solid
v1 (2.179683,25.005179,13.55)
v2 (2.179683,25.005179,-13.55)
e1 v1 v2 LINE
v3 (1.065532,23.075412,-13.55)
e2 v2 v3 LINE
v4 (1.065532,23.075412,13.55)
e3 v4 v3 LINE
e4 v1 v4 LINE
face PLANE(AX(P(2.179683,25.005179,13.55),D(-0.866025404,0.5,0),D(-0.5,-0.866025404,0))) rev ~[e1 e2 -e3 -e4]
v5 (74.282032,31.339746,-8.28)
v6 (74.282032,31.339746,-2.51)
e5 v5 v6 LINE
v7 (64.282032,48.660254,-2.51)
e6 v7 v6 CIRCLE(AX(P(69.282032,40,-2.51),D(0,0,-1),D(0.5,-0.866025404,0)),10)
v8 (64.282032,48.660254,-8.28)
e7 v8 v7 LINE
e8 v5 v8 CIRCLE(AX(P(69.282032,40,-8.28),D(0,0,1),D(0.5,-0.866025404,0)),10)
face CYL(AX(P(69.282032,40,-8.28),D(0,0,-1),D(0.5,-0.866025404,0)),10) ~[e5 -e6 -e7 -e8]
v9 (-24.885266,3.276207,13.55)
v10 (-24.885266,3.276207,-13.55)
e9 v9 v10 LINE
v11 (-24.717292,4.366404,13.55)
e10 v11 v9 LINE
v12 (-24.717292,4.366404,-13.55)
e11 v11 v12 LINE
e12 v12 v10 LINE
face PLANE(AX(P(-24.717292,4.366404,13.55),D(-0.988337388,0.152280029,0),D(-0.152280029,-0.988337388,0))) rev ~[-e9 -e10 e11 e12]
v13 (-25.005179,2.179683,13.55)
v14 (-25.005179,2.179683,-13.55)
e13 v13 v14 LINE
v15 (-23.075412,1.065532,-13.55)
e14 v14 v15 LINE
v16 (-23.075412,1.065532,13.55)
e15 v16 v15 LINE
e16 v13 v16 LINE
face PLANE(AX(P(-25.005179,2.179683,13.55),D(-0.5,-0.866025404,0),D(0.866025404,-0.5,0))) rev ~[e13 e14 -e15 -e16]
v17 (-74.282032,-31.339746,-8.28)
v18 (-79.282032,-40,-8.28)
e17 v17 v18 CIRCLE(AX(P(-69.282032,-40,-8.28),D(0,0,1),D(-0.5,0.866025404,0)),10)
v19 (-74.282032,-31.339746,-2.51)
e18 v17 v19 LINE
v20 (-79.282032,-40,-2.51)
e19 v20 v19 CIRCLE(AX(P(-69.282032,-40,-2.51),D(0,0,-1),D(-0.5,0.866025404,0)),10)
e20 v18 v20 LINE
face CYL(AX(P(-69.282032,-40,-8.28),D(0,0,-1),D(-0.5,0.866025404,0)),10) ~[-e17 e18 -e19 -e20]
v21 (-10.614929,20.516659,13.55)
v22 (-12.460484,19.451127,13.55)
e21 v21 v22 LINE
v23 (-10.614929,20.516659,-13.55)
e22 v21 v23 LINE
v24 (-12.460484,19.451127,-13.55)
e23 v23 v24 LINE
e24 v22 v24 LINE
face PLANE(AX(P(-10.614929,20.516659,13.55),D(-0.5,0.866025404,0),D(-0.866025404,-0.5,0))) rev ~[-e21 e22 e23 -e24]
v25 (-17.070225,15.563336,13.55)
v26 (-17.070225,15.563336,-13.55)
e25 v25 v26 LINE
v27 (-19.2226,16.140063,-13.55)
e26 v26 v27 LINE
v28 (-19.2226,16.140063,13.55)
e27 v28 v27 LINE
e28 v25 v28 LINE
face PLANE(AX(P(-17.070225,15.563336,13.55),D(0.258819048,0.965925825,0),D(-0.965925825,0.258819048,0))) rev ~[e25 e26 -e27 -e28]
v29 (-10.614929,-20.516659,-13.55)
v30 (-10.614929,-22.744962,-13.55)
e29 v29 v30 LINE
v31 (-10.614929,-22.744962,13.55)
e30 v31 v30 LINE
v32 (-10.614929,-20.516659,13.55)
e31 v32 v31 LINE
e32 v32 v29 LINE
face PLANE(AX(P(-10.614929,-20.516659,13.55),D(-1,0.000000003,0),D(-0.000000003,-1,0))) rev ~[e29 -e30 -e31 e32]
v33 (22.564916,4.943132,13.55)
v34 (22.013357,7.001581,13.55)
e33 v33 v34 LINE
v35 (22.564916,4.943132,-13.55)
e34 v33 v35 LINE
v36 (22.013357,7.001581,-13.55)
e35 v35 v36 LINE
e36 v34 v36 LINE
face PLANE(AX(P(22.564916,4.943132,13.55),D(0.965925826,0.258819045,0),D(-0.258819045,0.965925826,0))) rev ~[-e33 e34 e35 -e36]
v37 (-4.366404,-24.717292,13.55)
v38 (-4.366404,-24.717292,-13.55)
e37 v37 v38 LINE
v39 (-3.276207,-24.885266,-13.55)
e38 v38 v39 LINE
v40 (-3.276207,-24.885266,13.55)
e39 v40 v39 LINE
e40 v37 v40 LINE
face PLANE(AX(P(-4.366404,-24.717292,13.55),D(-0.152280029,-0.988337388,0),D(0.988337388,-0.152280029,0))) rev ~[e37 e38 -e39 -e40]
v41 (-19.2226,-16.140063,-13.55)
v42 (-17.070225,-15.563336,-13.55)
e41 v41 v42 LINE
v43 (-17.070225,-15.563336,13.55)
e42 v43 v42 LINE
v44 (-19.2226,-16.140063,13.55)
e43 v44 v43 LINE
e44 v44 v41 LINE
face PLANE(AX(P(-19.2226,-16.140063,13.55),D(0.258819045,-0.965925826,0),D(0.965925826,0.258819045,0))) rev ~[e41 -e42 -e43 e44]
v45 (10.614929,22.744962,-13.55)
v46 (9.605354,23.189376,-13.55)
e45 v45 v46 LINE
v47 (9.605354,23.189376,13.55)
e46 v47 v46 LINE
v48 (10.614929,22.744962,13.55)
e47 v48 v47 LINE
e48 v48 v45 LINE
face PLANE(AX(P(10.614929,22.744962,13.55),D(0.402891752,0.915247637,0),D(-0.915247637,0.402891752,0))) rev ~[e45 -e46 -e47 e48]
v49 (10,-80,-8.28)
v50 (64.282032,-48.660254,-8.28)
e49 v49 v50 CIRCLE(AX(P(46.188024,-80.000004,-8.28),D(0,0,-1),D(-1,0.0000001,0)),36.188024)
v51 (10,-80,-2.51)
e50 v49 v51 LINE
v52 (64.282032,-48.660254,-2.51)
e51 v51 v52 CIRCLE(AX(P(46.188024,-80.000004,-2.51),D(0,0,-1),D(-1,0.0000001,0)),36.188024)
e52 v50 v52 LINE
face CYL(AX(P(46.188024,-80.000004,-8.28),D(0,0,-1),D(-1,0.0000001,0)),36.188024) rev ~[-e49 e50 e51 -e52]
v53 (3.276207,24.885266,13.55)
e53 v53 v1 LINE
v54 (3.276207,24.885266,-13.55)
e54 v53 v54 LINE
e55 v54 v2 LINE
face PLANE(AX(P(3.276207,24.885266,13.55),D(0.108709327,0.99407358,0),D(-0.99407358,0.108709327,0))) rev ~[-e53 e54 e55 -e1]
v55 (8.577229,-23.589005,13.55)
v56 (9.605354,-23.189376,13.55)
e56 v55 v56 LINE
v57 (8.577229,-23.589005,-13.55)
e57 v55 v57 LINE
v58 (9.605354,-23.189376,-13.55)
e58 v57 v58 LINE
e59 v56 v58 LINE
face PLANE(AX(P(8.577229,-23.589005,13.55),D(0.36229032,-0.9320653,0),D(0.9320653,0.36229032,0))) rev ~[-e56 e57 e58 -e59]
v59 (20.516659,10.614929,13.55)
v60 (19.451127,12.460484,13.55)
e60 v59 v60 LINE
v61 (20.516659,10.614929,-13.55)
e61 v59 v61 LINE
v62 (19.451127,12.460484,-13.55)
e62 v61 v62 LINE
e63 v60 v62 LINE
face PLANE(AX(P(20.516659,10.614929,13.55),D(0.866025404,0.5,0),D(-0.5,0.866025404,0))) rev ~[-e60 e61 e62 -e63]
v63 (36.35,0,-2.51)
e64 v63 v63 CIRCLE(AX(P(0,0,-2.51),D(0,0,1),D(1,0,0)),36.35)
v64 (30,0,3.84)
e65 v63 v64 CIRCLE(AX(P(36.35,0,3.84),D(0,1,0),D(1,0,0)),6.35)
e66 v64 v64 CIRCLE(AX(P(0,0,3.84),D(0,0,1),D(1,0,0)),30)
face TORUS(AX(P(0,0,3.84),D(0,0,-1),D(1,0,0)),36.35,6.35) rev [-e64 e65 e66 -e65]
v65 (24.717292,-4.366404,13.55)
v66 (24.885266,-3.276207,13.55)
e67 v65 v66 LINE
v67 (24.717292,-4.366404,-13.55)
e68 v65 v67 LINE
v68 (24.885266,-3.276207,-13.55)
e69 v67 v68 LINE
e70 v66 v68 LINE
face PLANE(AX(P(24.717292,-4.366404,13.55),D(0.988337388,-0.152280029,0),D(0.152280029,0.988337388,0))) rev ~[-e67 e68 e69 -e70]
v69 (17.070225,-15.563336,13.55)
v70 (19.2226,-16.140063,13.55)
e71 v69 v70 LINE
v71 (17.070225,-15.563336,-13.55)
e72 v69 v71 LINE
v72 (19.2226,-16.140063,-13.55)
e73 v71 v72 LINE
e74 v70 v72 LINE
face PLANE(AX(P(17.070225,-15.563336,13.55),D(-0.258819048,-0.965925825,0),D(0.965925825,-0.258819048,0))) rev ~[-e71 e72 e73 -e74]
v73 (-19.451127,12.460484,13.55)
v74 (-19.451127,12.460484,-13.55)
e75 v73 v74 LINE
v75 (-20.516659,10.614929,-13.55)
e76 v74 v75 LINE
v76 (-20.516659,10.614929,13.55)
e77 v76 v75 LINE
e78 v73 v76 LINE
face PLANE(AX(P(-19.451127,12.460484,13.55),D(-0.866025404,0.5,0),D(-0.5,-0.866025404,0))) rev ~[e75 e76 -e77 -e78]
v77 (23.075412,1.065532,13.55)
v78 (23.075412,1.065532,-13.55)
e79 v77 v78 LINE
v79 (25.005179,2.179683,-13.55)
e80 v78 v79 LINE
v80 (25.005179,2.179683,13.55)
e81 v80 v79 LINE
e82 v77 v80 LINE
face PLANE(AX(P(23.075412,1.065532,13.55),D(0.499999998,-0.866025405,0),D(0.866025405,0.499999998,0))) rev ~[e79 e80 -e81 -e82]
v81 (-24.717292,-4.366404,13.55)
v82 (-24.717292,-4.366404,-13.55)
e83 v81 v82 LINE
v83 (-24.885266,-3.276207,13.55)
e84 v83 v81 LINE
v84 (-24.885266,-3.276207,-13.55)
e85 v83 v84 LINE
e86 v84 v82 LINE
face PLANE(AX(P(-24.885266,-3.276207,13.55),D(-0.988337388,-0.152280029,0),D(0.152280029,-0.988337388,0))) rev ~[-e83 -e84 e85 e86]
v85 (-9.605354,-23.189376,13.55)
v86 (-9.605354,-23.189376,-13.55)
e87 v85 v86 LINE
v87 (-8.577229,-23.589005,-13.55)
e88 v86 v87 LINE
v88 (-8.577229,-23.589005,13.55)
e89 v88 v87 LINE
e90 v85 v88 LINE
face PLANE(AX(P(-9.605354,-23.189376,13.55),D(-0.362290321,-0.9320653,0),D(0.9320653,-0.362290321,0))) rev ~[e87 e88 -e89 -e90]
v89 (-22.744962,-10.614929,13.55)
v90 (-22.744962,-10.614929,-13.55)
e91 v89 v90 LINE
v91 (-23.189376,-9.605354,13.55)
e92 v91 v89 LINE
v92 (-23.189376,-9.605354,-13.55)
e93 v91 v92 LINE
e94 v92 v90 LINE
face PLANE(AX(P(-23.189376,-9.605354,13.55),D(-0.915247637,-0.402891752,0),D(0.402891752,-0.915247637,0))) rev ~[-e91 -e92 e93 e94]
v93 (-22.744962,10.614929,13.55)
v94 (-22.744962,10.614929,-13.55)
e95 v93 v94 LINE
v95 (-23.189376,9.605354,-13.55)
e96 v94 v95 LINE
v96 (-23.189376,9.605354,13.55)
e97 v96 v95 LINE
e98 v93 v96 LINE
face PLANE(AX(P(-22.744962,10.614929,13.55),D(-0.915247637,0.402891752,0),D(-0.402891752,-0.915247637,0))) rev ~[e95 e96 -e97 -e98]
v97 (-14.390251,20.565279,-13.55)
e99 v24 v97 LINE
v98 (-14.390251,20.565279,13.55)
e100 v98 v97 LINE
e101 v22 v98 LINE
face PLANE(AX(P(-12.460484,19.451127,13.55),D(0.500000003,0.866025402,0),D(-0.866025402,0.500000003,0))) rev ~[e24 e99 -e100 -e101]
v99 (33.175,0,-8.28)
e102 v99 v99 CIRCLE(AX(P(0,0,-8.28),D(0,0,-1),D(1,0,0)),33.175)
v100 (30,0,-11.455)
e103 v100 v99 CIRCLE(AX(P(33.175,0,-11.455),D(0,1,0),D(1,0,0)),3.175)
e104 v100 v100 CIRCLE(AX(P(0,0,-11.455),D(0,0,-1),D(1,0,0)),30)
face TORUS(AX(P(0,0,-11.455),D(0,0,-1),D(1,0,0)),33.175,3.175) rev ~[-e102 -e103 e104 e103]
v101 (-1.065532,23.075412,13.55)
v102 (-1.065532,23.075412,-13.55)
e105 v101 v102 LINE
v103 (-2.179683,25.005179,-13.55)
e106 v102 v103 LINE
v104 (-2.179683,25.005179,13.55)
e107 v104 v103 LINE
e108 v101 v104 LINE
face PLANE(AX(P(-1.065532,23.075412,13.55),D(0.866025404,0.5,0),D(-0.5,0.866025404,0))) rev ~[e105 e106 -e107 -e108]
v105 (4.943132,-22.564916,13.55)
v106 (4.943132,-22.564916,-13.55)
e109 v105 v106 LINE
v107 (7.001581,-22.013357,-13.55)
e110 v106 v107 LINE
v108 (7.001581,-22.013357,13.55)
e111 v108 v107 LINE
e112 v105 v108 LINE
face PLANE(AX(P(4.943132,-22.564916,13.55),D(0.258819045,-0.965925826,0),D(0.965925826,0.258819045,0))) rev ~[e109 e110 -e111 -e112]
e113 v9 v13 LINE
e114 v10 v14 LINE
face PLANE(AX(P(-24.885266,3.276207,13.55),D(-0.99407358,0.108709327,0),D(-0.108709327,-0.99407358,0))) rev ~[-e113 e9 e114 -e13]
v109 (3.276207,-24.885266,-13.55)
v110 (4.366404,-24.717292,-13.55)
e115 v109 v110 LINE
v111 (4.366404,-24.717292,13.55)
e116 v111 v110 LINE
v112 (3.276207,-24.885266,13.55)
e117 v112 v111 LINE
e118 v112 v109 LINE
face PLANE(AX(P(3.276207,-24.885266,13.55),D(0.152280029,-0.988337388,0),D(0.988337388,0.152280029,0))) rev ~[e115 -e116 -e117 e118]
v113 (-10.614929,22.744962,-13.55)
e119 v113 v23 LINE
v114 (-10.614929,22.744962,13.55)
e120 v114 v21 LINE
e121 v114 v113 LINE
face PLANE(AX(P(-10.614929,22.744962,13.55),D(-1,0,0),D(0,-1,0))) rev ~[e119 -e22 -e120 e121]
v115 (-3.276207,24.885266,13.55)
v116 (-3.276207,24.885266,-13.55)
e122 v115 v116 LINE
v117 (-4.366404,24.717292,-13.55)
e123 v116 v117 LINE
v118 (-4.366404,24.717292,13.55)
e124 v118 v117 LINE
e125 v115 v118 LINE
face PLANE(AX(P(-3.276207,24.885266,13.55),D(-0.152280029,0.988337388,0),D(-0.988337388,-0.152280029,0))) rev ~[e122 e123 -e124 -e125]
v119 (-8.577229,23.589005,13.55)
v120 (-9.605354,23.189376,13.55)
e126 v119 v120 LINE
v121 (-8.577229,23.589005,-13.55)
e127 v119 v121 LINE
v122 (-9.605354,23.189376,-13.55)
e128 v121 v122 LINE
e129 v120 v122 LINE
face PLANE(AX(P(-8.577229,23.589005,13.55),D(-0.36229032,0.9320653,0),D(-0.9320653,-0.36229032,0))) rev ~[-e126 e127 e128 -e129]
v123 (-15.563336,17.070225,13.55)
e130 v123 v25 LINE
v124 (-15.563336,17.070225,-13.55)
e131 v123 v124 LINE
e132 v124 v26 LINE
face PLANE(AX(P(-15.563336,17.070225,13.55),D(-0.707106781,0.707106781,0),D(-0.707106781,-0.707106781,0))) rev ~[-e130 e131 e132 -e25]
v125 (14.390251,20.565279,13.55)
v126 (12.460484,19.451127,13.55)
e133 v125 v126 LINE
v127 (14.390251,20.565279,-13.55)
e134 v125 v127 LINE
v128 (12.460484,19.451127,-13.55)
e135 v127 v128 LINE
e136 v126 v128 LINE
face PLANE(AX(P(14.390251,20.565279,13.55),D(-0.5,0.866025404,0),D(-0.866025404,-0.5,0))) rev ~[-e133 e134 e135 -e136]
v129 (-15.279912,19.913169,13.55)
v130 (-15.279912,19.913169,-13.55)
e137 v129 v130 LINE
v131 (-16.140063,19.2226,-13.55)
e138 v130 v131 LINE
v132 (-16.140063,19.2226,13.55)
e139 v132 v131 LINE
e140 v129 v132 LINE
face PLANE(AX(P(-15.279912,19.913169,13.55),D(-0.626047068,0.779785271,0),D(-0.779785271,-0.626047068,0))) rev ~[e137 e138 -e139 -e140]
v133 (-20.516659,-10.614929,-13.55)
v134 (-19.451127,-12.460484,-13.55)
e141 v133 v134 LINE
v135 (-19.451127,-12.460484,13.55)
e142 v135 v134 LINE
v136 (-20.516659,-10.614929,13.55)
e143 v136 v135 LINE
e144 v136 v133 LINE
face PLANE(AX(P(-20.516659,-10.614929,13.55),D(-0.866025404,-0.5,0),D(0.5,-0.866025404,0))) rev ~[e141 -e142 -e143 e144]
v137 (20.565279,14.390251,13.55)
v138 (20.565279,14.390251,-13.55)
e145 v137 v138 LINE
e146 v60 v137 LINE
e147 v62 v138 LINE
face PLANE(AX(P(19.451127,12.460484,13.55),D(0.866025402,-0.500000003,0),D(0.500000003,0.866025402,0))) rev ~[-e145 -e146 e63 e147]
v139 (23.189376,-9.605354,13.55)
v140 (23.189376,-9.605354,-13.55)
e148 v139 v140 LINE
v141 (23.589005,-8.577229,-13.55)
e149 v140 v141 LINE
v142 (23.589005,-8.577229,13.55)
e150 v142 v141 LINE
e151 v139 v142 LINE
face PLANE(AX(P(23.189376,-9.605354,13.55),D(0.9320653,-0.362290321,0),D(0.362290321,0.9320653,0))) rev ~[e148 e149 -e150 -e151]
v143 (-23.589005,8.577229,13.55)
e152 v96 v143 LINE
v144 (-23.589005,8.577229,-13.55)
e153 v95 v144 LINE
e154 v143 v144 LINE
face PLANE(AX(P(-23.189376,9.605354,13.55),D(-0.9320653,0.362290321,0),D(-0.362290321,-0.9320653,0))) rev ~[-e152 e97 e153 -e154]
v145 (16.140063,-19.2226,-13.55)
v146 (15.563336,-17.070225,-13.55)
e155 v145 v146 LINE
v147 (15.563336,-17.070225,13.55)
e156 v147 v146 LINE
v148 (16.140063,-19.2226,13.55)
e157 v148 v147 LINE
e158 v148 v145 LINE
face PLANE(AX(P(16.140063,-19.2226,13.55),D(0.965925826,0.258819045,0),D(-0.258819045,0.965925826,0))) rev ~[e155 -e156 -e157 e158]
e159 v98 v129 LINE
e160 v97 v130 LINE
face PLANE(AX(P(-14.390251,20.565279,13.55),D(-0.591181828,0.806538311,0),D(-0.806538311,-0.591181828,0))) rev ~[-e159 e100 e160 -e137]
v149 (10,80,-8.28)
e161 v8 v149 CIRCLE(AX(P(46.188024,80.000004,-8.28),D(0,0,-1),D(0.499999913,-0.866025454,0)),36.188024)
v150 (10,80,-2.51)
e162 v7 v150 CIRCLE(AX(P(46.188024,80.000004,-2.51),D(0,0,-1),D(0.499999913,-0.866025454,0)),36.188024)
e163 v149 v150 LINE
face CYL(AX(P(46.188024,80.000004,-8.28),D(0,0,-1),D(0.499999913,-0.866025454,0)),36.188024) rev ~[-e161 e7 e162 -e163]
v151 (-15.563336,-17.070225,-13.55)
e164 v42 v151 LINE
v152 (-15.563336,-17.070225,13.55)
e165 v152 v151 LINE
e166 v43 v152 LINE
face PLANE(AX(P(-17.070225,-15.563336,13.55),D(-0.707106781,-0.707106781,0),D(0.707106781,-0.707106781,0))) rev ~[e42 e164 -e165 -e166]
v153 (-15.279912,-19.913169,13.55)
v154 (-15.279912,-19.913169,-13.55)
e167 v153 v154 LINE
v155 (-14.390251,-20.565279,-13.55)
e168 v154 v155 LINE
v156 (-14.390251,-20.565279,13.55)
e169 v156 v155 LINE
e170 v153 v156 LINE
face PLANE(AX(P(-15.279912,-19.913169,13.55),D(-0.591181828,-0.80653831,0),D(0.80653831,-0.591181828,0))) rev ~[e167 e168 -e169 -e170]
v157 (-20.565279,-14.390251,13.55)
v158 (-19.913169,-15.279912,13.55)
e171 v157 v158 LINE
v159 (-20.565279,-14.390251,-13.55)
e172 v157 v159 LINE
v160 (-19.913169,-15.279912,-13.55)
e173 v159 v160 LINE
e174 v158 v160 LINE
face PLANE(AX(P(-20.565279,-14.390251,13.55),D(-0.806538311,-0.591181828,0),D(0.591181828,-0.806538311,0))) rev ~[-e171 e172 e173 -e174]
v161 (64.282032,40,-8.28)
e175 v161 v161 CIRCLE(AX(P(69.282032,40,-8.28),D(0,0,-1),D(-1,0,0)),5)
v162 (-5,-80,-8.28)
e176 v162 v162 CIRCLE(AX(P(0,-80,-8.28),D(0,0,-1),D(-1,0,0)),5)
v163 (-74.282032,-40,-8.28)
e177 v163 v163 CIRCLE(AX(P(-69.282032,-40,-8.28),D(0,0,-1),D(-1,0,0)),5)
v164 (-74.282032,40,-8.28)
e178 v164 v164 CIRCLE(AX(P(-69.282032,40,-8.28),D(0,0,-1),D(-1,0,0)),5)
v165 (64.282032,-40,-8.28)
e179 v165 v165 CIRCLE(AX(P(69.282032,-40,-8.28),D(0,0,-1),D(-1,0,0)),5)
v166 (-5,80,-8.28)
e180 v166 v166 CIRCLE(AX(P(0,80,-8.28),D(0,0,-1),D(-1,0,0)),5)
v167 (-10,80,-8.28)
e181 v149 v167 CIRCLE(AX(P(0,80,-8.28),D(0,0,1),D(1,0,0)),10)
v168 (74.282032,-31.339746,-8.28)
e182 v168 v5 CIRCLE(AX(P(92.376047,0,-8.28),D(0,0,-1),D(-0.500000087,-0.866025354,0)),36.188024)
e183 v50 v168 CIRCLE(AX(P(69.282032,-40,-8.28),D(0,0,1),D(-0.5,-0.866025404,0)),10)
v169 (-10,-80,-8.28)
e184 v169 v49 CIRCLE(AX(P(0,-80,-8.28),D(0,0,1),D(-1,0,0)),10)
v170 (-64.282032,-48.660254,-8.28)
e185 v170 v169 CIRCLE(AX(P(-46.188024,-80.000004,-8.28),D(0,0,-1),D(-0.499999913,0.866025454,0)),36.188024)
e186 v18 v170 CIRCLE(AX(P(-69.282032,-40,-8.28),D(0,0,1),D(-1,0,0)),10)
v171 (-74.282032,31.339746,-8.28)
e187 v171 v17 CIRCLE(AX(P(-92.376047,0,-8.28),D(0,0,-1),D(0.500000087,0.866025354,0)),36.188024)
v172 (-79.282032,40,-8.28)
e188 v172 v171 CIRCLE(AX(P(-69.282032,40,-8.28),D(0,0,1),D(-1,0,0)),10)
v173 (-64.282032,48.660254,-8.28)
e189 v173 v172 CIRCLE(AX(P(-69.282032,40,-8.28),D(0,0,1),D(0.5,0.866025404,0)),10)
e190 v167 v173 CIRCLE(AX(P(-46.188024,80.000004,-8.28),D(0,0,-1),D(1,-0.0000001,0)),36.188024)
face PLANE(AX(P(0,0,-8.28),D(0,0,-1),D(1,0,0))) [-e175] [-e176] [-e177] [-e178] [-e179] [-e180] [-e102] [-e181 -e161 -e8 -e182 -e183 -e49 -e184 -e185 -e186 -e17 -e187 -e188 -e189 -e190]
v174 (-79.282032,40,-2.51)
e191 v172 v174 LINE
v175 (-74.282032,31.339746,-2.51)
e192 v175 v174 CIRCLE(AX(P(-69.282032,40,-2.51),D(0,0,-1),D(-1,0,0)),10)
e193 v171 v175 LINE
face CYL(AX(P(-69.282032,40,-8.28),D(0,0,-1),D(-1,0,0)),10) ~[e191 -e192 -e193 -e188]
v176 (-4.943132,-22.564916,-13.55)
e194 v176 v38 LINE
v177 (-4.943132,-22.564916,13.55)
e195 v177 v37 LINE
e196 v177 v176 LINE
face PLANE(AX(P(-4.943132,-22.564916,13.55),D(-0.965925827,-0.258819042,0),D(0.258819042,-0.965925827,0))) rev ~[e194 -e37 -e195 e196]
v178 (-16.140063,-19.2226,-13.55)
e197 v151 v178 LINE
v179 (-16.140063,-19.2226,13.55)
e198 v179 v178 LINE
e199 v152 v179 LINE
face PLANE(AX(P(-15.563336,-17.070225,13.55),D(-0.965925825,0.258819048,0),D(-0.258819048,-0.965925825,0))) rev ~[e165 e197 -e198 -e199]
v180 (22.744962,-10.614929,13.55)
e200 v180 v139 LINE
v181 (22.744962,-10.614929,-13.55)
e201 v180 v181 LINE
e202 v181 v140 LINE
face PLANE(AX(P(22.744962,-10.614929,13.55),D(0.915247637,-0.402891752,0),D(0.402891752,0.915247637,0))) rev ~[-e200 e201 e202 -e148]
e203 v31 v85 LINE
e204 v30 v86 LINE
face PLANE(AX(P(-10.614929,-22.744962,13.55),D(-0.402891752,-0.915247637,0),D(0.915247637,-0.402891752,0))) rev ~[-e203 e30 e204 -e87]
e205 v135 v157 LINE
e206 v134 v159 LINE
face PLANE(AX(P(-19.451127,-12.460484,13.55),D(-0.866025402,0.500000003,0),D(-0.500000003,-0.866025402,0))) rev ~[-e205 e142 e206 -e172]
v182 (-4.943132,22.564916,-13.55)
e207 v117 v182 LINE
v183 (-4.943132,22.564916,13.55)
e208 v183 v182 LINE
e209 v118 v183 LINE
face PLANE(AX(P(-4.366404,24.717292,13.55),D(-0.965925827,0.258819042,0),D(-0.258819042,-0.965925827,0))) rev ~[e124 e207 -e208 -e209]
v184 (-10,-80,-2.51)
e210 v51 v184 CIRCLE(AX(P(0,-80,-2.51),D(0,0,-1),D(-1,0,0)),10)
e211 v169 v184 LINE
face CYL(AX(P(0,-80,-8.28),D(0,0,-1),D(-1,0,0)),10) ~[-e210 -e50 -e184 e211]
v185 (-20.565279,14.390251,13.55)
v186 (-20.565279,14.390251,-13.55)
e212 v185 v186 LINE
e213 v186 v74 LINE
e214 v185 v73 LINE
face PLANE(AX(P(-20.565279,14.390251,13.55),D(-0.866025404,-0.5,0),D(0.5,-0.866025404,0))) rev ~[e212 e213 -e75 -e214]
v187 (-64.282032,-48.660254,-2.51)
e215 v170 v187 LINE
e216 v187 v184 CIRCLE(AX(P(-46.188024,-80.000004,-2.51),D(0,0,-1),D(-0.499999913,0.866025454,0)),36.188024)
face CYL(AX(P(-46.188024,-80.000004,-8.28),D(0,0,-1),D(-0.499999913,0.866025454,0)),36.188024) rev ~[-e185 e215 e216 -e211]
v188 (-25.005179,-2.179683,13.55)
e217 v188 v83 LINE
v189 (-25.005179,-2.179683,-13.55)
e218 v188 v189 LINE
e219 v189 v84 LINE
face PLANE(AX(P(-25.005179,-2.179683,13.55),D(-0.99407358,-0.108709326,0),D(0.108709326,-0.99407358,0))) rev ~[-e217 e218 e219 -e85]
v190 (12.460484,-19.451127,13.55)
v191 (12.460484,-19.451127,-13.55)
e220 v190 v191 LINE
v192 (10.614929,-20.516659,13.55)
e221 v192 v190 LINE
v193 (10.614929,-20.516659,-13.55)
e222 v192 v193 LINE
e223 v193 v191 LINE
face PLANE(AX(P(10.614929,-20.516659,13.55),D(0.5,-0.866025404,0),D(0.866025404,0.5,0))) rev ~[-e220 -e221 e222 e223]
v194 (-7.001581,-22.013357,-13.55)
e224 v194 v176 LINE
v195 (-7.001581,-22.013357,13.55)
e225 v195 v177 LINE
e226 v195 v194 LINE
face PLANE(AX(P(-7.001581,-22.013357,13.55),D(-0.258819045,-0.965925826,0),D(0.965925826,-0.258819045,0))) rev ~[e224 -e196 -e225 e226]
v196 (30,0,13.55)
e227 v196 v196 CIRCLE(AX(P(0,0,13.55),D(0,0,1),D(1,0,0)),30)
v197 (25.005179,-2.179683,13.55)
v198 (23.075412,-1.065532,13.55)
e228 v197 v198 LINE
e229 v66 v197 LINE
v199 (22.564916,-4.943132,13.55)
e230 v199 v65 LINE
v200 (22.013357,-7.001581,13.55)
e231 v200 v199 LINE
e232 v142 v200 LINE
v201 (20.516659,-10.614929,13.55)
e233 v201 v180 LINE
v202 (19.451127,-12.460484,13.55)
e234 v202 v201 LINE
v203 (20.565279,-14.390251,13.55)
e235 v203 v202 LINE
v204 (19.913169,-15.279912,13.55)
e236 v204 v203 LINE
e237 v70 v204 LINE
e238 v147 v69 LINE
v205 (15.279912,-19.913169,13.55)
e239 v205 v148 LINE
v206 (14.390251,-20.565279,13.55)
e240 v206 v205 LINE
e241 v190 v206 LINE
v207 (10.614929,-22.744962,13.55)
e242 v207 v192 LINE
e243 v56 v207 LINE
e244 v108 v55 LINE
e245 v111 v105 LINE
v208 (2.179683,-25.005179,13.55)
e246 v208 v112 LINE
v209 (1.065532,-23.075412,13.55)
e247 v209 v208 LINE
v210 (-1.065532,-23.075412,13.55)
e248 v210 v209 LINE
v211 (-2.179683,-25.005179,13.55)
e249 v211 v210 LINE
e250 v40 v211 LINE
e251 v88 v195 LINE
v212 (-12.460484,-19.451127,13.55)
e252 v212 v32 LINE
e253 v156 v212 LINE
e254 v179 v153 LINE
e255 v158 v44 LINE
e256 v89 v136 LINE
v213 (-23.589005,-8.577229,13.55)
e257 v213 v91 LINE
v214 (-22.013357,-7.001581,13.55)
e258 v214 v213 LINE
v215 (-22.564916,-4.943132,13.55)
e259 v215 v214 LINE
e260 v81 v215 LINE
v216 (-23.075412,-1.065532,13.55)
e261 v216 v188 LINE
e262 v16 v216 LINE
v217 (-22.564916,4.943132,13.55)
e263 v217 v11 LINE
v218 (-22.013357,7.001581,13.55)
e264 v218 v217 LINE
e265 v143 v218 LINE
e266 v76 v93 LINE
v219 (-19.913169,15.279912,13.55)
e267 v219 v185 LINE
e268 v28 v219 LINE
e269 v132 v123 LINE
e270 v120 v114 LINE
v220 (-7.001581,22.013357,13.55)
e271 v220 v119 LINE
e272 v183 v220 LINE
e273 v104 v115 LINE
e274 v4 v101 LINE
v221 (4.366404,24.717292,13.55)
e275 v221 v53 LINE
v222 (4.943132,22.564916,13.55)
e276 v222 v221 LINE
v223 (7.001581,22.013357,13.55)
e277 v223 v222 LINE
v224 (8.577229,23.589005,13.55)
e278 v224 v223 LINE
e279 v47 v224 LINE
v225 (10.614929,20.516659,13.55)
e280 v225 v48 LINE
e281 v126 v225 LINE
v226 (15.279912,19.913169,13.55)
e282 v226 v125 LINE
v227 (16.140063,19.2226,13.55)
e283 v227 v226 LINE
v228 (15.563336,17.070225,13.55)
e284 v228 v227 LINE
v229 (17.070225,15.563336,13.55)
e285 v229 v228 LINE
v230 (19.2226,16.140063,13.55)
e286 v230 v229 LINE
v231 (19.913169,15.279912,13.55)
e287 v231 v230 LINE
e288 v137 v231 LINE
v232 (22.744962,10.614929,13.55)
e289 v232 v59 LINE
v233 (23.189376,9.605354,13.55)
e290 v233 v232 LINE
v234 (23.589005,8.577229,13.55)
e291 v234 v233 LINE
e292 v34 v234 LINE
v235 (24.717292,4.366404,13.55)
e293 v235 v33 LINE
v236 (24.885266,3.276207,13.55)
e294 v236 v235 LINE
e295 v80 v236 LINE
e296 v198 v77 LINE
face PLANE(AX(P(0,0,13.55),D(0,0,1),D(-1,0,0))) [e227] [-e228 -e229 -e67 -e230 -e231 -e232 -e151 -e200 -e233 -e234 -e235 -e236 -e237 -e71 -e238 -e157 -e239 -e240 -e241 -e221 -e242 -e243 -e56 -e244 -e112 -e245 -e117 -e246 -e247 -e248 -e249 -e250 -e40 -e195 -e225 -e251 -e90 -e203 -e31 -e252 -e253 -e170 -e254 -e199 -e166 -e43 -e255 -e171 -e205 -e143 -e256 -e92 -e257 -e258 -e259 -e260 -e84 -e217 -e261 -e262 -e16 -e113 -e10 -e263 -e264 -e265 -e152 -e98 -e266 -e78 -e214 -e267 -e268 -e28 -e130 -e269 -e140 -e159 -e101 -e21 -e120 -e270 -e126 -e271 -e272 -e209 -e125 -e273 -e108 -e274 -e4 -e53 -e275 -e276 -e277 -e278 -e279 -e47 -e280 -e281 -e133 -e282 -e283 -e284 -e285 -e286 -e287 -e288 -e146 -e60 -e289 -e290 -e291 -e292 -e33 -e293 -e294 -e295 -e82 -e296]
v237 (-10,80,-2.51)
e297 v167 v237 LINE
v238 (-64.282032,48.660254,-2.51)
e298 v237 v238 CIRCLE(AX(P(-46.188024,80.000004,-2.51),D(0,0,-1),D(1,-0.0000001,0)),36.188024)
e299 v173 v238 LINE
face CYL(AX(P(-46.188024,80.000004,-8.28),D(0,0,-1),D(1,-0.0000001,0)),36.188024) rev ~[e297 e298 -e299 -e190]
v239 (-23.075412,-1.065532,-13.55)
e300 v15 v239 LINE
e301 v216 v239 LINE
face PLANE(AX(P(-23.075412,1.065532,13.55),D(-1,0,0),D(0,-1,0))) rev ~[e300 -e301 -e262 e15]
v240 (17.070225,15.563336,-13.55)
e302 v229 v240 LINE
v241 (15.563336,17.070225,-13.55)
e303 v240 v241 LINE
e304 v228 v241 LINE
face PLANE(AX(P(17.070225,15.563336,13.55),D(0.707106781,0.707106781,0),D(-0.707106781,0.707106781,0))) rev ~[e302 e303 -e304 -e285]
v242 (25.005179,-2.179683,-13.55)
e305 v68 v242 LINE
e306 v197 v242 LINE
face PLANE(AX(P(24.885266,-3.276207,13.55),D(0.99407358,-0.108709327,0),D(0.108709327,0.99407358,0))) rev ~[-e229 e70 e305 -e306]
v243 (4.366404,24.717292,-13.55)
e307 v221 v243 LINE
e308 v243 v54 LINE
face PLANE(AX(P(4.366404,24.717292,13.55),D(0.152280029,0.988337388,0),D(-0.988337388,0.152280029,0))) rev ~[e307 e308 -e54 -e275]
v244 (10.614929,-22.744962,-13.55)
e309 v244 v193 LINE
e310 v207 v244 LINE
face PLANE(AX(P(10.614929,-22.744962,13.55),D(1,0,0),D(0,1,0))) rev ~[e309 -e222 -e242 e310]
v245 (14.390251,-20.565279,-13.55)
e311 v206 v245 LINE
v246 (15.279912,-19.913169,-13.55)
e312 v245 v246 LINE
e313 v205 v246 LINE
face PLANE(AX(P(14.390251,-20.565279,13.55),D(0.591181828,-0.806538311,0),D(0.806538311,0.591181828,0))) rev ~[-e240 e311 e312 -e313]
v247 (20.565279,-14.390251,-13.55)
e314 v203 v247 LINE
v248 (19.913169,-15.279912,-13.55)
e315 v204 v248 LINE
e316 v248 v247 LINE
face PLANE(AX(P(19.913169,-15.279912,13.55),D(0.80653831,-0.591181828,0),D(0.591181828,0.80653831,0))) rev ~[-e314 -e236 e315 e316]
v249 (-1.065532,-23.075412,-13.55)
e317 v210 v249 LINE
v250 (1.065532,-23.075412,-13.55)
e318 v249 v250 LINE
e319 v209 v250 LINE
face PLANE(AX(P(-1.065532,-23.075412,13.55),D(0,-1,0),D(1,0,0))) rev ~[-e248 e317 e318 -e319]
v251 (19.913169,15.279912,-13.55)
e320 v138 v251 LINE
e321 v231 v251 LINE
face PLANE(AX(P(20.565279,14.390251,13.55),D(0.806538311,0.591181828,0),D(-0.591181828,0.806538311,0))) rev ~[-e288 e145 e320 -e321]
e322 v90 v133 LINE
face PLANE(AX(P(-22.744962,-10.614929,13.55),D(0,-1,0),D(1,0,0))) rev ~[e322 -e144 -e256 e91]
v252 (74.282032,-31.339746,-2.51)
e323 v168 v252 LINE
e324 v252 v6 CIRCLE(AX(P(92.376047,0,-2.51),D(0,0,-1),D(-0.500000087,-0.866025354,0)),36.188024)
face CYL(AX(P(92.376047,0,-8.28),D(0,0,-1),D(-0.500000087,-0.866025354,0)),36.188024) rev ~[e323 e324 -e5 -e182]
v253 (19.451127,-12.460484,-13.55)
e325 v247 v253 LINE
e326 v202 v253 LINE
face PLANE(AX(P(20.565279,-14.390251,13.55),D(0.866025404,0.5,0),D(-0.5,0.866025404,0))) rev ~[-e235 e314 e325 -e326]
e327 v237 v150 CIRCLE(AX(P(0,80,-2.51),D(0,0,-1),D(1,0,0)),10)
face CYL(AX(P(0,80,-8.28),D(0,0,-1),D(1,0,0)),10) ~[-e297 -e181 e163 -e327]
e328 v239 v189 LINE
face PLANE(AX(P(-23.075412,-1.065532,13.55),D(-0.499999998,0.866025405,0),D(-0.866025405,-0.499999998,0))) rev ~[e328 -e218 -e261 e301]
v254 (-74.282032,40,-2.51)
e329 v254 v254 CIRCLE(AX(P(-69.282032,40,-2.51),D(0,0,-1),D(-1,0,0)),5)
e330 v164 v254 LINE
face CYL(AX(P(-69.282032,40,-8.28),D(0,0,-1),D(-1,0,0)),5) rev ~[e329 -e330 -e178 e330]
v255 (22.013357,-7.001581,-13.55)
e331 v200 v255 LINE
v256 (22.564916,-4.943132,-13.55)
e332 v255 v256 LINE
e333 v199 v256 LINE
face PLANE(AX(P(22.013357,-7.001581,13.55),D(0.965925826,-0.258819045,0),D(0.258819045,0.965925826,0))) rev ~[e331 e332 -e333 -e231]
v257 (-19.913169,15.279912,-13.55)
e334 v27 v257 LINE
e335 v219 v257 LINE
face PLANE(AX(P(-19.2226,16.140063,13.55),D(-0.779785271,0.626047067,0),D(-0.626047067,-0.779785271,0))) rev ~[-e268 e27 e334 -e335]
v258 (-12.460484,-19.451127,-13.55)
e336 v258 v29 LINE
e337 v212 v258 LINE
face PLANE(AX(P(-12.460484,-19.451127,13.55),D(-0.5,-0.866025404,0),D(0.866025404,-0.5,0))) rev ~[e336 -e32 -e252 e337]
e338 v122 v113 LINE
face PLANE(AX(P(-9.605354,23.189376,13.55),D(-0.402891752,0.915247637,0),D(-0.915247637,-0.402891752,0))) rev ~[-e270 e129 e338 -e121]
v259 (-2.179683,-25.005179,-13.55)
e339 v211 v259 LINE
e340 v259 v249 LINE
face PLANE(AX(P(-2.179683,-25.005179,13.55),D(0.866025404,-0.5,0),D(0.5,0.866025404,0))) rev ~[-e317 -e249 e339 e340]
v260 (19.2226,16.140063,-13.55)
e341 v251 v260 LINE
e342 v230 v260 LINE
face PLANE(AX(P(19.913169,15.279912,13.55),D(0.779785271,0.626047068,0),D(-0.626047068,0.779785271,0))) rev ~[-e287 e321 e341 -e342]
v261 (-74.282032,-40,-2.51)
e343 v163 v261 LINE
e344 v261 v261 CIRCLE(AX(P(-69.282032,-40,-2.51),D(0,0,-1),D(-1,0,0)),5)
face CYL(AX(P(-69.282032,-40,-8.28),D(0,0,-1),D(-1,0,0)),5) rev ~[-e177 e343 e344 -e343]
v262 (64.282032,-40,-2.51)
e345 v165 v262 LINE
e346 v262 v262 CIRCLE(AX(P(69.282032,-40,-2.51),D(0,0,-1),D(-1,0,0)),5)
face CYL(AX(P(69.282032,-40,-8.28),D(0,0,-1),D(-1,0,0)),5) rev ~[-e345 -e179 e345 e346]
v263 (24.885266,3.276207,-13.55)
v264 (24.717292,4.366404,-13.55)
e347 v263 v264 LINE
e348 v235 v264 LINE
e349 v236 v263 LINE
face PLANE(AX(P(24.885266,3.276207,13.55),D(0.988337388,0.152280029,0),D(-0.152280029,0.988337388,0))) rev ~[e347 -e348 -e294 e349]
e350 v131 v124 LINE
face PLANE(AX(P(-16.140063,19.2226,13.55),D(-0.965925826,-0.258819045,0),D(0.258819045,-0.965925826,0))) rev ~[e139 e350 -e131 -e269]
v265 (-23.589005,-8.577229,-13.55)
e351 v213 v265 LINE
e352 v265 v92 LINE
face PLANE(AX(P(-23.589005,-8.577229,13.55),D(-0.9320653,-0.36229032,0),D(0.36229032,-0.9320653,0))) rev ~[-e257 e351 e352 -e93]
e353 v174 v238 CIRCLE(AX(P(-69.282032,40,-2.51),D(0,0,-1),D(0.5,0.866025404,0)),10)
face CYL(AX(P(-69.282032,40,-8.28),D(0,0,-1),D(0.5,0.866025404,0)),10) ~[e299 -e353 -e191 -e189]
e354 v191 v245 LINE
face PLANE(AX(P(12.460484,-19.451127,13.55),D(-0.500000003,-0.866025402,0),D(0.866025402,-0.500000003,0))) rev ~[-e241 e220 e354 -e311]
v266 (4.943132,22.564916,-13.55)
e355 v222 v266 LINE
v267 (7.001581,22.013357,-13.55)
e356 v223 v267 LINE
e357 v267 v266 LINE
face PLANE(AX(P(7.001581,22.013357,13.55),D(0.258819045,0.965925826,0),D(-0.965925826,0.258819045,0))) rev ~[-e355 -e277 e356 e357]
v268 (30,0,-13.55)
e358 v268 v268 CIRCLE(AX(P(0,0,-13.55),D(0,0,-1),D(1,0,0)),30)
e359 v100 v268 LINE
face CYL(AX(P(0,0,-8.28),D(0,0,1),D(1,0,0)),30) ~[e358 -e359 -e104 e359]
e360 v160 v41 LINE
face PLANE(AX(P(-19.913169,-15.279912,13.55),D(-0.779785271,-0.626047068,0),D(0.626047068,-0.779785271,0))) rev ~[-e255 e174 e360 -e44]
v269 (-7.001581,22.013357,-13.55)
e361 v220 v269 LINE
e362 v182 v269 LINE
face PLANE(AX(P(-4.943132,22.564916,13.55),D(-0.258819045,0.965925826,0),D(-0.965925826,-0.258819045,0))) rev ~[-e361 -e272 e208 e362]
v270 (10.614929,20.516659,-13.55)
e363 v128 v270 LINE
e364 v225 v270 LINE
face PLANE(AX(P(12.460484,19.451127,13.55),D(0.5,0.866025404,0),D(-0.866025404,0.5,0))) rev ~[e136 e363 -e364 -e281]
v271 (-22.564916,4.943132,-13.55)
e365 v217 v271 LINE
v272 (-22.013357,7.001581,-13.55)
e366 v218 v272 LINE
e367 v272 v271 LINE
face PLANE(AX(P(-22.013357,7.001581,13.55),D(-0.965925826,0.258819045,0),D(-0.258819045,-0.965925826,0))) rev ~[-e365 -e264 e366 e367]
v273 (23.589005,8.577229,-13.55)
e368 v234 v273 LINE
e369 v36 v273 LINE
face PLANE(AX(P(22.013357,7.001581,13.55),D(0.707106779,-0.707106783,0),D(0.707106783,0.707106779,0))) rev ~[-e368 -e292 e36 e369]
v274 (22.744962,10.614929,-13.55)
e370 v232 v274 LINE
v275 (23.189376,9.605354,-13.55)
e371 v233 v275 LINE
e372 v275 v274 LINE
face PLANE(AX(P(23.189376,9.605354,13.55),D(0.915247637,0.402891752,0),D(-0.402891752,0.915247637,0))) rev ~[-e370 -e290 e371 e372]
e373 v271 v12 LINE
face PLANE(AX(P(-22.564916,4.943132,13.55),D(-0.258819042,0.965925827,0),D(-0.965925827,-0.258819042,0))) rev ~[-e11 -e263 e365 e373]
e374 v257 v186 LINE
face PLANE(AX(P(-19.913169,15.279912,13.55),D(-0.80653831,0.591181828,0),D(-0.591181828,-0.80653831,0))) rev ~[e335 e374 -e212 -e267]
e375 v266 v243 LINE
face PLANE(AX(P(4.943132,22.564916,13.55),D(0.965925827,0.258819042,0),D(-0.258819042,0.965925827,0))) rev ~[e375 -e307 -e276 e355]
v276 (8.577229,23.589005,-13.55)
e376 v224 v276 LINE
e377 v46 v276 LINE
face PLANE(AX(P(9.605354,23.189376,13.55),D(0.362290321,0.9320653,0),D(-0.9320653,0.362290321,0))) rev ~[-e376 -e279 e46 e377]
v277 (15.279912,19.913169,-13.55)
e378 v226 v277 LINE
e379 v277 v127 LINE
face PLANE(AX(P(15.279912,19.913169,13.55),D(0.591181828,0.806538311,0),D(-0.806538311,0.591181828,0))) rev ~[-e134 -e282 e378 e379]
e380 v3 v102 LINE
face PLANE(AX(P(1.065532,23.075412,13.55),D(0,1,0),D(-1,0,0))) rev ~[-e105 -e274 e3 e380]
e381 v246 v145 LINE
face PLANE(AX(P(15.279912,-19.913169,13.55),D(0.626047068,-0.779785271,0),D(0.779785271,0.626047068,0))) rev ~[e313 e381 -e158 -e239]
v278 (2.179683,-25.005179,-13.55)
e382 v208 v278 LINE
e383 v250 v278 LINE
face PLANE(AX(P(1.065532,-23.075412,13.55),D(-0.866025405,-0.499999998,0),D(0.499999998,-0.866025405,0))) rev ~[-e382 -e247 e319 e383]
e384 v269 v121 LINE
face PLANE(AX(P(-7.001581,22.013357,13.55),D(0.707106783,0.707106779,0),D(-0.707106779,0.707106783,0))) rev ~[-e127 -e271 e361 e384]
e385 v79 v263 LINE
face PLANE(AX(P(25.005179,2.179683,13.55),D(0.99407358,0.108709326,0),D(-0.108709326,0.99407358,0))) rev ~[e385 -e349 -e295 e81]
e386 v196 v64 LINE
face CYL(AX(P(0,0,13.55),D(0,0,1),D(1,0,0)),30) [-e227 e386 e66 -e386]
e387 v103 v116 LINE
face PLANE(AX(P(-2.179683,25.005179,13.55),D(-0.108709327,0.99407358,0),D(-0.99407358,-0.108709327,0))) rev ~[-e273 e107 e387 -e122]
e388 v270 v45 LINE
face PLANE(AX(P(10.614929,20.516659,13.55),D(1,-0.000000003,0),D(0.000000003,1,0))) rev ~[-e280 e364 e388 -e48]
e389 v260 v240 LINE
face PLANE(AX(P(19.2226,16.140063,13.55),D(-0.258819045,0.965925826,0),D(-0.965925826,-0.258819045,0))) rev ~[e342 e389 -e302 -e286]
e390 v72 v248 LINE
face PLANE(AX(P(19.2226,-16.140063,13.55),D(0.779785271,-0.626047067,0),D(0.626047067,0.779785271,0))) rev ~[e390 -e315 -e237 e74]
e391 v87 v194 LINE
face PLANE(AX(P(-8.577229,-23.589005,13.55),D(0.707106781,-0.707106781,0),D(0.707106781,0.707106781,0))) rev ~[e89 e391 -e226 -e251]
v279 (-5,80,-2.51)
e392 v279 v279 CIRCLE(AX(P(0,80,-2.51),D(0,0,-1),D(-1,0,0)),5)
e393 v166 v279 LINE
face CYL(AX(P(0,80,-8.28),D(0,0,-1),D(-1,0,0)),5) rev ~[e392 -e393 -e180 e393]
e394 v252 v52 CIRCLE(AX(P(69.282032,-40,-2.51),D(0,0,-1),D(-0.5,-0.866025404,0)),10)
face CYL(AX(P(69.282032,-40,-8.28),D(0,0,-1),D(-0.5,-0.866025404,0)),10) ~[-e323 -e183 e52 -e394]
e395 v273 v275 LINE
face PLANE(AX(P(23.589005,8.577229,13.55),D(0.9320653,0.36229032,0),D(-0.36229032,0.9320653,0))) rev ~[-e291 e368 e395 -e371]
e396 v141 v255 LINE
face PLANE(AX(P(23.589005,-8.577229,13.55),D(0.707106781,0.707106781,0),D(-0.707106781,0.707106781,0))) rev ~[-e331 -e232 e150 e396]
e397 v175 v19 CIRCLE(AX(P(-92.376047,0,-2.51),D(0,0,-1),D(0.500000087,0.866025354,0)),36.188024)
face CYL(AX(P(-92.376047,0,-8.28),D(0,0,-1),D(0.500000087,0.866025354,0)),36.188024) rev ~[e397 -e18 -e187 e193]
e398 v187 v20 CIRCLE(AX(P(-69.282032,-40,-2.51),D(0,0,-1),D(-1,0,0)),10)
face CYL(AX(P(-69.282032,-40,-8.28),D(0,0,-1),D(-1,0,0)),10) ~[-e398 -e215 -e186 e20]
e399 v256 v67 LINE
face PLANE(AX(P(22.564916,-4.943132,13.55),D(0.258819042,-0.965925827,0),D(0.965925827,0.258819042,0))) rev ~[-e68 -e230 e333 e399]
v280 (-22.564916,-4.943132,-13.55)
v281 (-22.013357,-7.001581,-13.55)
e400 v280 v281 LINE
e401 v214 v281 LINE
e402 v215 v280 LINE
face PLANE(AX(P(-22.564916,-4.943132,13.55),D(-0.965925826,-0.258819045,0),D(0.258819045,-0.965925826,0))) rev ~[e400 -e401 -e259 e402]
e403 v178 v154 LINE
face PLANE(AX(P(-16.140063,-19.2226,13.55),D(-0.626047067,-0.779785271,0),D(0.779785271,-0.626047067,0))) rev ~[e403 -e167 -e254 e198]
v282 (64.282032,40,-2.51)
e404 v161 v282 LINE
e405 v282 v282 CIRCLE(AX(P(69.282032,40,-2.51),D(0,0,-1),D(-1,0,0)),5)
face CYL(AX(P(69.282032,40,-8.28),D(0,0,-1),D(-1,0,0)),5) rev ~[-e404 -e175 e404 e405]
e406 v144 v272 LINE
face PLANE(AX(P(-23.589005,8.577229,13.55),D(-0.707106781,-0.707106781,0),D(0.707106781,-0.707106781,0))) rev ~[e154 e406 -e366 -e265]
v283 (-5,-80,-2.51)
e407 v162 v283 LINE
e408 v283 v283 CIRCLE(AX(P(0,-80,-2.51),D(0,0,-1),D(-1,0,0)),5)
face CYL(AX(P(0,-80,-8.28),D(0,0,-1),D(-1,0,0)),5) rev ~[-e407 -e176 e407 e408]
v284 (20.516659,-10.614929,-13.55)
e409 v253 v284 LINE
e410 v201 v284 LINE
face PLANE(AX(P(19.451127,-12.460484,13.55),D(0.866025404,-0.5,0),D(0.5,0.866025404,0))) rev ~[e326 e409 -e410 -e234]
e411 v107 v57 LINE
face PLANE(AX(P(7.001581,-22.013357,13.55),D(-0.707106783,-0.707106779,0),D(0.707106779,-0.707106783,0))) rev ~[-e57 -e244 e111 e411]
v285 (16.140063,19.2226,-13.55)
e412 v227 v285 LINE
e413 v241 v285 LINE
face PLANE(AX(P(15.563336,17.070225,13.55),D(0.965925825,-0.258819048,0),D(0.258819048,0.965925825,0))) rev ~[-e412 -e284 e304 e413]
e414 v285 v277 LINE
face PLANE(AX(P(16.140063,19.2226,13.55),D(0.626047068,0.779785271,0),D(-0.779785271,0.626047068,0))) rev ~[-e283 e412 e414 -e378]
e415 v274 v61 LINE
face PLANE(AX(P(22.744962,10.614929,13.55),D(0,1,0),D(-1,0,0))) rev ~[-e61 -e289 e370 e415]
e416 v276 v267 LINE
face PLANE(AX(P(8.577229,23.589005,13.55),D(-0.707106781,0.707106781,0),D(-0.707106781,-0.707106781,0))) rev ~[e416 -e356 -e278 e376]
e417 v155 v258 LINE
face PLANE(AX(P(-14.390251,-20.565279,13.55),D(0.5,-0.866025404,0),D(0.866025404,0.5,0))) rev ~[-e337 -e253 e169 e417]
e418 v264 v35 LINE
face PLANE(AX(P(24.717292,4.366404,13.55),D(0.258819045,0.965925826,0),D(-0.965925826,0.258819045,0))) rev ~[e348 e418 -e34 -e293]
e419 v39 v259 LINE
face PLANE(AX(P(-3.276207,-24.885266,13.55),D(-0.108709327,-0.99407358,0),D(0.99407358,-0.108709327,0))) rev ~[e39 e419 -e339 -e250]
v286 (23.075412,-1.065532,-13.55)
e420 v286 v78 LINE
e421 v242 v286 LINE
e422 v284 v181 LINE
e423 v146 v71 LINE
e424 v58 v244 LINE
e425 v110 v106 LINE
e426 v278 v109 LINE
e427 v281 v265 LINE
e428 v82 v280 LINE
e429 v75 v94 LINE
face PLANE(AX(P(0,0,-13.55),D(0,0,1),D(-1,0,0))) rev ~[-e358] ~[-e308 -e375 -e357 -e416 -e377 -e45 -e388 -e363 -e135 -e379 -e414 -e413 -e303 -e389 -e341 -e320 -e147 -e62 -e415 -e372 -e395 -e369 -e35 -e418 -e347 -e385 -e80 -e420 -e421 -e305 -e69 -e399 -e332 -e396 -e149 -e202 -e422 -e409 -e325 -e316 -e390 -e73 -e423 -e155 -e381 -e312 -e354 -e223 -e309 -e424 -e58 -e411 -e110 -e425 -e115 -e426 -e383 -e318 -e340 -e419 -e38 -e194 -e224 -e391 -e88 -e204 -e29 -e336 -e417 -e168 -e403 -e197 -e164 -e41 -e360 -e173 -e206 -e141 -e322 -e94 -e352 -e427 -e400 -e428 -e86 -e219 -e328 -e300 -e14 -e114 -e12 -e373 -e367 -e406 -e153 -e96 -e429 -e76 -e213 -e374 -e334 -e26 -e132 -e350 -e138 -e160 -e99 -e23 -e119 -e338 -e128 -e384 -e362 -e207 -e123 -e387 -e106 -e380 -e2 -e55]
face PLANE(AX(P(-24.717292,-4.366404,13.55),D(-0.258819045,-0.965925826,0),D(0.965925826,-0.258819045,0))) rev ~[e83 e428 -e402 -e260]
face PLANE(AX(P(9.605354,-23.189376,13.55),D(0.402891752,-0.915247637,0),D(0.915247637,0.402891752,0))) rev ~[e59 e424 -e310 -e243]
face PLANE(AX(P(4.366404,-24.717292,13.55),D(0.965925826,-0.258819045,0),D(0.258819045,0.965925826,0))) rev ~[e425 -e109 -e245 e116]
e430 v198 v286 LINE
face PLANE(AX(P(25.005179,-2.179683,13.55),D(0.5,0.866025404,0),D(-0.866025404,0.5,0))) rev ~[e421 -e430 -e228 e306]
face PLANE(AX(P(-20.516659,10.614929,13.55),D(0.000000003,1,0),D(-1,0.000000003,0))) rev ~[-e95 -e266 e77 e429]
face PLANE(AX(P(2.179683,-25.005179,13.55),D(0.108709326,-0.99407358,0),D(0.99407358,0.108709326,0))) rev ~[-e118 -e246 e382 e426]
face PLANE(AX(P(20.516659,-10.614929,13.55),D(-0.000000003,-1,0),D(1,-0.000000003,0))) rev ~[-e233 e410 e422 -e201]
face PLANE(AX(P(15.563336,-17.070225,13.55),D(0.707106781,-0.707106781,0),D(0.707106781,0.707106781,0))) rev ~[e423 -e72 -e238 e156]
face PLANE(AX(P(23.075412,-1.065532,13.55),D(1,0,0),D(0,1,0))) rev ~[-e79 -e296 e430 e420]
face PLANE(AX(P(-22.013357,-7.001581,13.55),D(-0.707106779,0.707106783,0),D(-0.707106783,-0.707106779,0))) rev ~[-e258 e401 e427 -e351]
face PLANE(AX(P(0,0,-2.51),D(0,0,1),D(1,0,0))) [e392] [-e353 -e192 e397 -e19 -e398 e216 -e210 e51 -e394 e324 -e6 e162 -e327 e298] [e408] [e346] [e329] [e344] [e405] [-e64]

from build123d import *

# Parameters (mm, degrees)
SKETCH1_R           = 115
BOSS_EXTRUDE1_DEPTH = 13.55
CUT_EXTRUDE1_DEPTH  = 165.87695412
SKETCH3_R           = 95
SKETCH3_R_2         = 30
CUT_EXTRUDE13_DEPTH = 16.06
FILLET1_R           = 6.35
CUT_EXTRUDE14_START = -5.27
SKETCH7_R           = 95
SKETCH7_R_2         = 30
CUT_EXTRUDE14_DEPTH = 5.27
FILLET2_R           = 3.175
SKETCH8_R           = 115
SKETCH8_R_2         = 95
CUT_EXTRUDE17_DEPTH = 165.87695412
SKETCH9_R           = 5
CUT_EXTRUDE20_DEPTH = 10
SKETCH10_R          = 95
CUT_EXTRUDE21_DEPTH = 10


with BuildPart() as part:
    # Sketch1 → Boss-Extrude1 (new, symmetric)
    with BuildSketch(Plane.XY):
        Circle(SKETCH1_R)
    extrude(amount=BOSS_EXTRUDE1_DEPTH, both=True)

    # Sketch2 → Cut-Extrude1 (cut, through all)
    with BuildSketch(Plane.XY.offset(13.55)):
        Polygon((2.179683155, 25.005179098), (1.065531645, 23.075412075), (0, 23.075412075), (-1.065531645, 23.075412075), (-2.179683155, 25.005179098), (-3.276207429, 24.885266027), (-4.366404331, 24.717291793), (-4.943131584, 22.564916358), (-7.001580653, 22.013356593), (-8.577228829, 23.589004769), (-9.605354152, 23.189376274), (-10.614928564, 22.744961902), (-10.614928564, 20.516658882), (-12.460483511, 19.451127237), (-14.390250533, 20.565278747), (-15.27991187, 19.913168849), (-16.140062965, 19.222600444), (-15.563335705, 17.070225009), (-17.070225009, 15.563335705), (-19.222600444, 16.140062965), (-19.913168845, 15.279911875), (-20.565278747, 14.390250533), (-19.451127237, 12.460483511), (-20.516658882, 10.614928564), (-22.744961902, 10.614928564), (-23.189376271, 9.605354159), (-23.589004769, 8.577228829), (-22.013356593, 7.001580653), (-22.564916358, 4.943131584), (-24.717291794, 4.366404324), (-24.885266027, 3.276207429), (-25.005179098, 2.179683155), (-23.075412075, 1.065531645), (-23.075412075, -1.065531645), (-25.005179098, -2.179683155), (-24.885266028, -3.276207422), (-24.717291794, -4.366404324), (-22.564916358, -4.943131584), (-22.013356593, -7.001580653), (-23.589004769, -8.577228829), (-23.189376274, -9.605354152), (-22.744961902, -10.614928564), (-20.516658882, -10.614928564), (-19.451127237, -12.460483511), (-20.565278747, -14.390250533), (-19.913168849, -15.27991187), (-19.222600444, -16.140062965), (-17.070225009, -15.563335705), (-15.563335705, -17.070225009), (-16.140062965, -19.222600444), (-15.279911875, -19.913168845), (-14.390250533, -20.565278747), (-12.460483511, -19.451127237), (-10.614928564, -20.516658882), (-10.614928564, -22.744961902), (-9.605354159, -23.189376271), (-8.577228829, -23.589004769), (-7.001580653, -22.013356593), (-4.943131584, -22.564916358), (-4.366404324, -24.717291794), (-3.276207429, -24.885266027), (-2.179683155, -25.005179098), (-1.065531645, -23.075412075), (1.065531645, -23.075412075), (2.179683155, -25.005179098), (3.276207422, -24.885266028), (4.366404324, -24.717291794), (4.943131584, -22.564916358), (7.001580653, -22.013356593), (8.577228829, -23.589004769), (9.605354152, -23.189376274), (10.614928564, -22.744961902), (10.614928564, -20.516658882), (12.460483511, -19.451127237), (14.390250533, -20.565278747), (15.27991187, -19.913168849), (16.140062965, -19.222600444), (15.563335705, -17.070225009), (17.070225009, -15.563335705), (19.222600444, -16.140062965), (19.913168845, -15.279911875), (20.565278747, -14.390250533), (19.451127237, -12.460483511), (20.516658882, -10.614928564), (22.744961902, -10.614928564), (23.189376271, -9.605354159), (23.589004769, -8.577228829), (22.013356593, -7.001580653), (22.564916358, -4.943131584), (24.717291794, -4.366404324), (24.885266027, -3.276207429), (25.005179098, -2.179683155), (23.075412075, -1.065531645), (23.075412075, 1.065531645), (25.005179098, 2.179683155), (24.885266028, 3.276207422), (24.717291794, 4.366404324), (22.564916358, 4.943131584), (22.013356593, 7.001580653), (23.589004769, 8.577228829), (23.189376274, 9.605354152), (22.744961902, 10.614928564), (20.516658882, 10.614928564), (19.451127237, 12.460483511), (20.565278747, 14.390250533), (19.913168849, 15.27991187), (19.222600444, 16.140062965), (17.070225009, 15.563335705), (15.563335705, 17.070225009), (16.140062965, 19.222600444), (15.279911876, 19.913168845), (14.390250533, 20.565278747), (12.460483511, 19.451127237), (10.614928564, 20.516658882), (10.614928564, 22.744961902), (9.605354159, 23.189376271), (8.577228829, 23.589004769), (7.001580653, 22.013356593), (4.943131584, 22.564916358), (4.366404324, 24.717291794), (3.276207429, 24.885266027), align=None)
    extrude(amount=-CUT_EXTRUDE1_DEPTH, mode=Mode.SUBTRACT)

    # Sketch3 → Cut-Extrude13 (cut)
    with BuildSketch(Plane.XY.offset(13.55)):
        Circle(SKETCH3_R)
        Circle(SKETCH3_R_2, mode=Mode.SUBTRACT)
    extrude(amount=-CUT_EXTRUDE13_DEPTH, mode=Mode.SUBTRACT)

    # Fillet1
    fillet1_edges = [part.edges().sort_by_distance(p)[0] for p in [
        (-30, 0, -2.51),
    ]]
    fillet(fillet1_edges, radius=FILLET1_R)

    # Sketch7 → Cut-Extrude14 (cut)
    with BuildSketch(Plane(origin=(0, 0, -13.55), x_dir=(-1, 0, 0), z_dir=(0, 0, -1)).offset(CUT_EXTRUDE14_START)):
        Circle(SKETCH7_R)
        Circle(SKETCH7_R_2, mode=Mode.SUBTRACT)
    extrude(amount=CUT_EXTRUDE14_DEPTH, mode=Mode.SUBTRACT)

    # Fillet2
    fillet2_edges = [part.edges().sort_by_distance(p)[0] for p in [
        (30, 0, -8.28),
    ]]
    fillet(fillet2_edges, radius=FILLET2_R)

    # Sketch8 → Cut-Extrude17 (cut, through all)
    with BuildSketch(Plane(origin=(0, 0, -13.55), x_dir=(-1, 0, 0), z_dir=(0, 0, -1))):
        Circle(SKETCH8_R)
        Circle(SKETCH8_R_2, mode=Mode.SUBTRACT)
    extrude(amount=-CUT_EXTRUDE17_DEPTH, mode=Mode.SUBTRACT)

    # Sketch9 → Cut-Extrude20 (cut)
    with BuildSketch(Plane(origin=(0, 0, -8.28), x_dir=(-1, 0, 0), z_dir=(0, 0, -1))):
        with Locations((0, 80)):
            Circle(SKETCH9_R)
        with Locations((69.282032303, 40)):
            Circle(SKETCH9_R)
        with Locations((69.282032303, -40)):
            Circle(SKETCH9_R)
        with Locations((0, -80)):
            Circle(SKETCH9_R)
        with Locations((-69.282032303, -40)):
            Circle(SKETCH9_R)
        with Locations((-69.282032303, 40)):
            Circle(SKETCH9_R)
    extrude(amount=-CUT_EXTRUDE20_DEPTH, mode=Mode.SUBTRACT)

    # Sketch10 → Cut-Extrude21 (cut)
    with BuildSketch(Plane(origin=(0, 0, -8.28), x_dir=(-1, 0, 0), z_dir=(0, 0, -1))):
        Circle(SKETCH10_R)
        with BuildLine():
            ThreePointArc((-74.282032303, 31.339745962), (-77.942286341, 45), (-64.282032303, 48.660254038))
            ThreePointArc((-64.282032303, 48.660254038), (-28.094011813, 48.660255848), (-10, 80))
            ThreePointArc((-10, 80), (0, 90), (10, 80))
            ThreePointArc((10, 80), (28.094011813, 48.660255848), (64.282032303, 48.660254038))
            ThreePointArc((64.282032303, 48.660254038), (74.282032303, 48.660254038), (79.282032303, 40))
            ThreePointArc((79.282032303, 40), (77.942286341, 35), (74.282032303, 31.339745962))
            ThreePointArc((74.282032303, 31.339745962), (56.188023625, 0), (74.282032303, -31.339745962))
            ThreePointArc((74.282032303, -31.339745962), (77.942286341, -35), (79.282032303, -40))
            ThreePointArc((79.282032303, -40), (74.282032303, -48.660254038), (64.282032303, -48.660254038))
            ThreePointArc((64.282032303, -48.660254038), (28.094011813, -48.660255848), (10, -80))
            ThreePointArc((10, -80), (0, -90), (-10, -80))
            ThreePointArc((-10, -80), (-28.094011813, -48.660255848), (-64.282032303, -48.660254038))
            ThreePointArc((-64.282032303, -48.660254038), (-77.942286341, -45), (-74.282032303, -31.339745962))
            ThreePointArc((-74.282032303, -31.339745962), (-56.188023625, 0), (-74.282032303, 31.339745962))
        make_face(mode=Mode.SUBTRACT)
    extrude(amount=-CUT_EXTRUDE21_DEPTH, mode=Mode.SUBTRACT)


solid = part.part
